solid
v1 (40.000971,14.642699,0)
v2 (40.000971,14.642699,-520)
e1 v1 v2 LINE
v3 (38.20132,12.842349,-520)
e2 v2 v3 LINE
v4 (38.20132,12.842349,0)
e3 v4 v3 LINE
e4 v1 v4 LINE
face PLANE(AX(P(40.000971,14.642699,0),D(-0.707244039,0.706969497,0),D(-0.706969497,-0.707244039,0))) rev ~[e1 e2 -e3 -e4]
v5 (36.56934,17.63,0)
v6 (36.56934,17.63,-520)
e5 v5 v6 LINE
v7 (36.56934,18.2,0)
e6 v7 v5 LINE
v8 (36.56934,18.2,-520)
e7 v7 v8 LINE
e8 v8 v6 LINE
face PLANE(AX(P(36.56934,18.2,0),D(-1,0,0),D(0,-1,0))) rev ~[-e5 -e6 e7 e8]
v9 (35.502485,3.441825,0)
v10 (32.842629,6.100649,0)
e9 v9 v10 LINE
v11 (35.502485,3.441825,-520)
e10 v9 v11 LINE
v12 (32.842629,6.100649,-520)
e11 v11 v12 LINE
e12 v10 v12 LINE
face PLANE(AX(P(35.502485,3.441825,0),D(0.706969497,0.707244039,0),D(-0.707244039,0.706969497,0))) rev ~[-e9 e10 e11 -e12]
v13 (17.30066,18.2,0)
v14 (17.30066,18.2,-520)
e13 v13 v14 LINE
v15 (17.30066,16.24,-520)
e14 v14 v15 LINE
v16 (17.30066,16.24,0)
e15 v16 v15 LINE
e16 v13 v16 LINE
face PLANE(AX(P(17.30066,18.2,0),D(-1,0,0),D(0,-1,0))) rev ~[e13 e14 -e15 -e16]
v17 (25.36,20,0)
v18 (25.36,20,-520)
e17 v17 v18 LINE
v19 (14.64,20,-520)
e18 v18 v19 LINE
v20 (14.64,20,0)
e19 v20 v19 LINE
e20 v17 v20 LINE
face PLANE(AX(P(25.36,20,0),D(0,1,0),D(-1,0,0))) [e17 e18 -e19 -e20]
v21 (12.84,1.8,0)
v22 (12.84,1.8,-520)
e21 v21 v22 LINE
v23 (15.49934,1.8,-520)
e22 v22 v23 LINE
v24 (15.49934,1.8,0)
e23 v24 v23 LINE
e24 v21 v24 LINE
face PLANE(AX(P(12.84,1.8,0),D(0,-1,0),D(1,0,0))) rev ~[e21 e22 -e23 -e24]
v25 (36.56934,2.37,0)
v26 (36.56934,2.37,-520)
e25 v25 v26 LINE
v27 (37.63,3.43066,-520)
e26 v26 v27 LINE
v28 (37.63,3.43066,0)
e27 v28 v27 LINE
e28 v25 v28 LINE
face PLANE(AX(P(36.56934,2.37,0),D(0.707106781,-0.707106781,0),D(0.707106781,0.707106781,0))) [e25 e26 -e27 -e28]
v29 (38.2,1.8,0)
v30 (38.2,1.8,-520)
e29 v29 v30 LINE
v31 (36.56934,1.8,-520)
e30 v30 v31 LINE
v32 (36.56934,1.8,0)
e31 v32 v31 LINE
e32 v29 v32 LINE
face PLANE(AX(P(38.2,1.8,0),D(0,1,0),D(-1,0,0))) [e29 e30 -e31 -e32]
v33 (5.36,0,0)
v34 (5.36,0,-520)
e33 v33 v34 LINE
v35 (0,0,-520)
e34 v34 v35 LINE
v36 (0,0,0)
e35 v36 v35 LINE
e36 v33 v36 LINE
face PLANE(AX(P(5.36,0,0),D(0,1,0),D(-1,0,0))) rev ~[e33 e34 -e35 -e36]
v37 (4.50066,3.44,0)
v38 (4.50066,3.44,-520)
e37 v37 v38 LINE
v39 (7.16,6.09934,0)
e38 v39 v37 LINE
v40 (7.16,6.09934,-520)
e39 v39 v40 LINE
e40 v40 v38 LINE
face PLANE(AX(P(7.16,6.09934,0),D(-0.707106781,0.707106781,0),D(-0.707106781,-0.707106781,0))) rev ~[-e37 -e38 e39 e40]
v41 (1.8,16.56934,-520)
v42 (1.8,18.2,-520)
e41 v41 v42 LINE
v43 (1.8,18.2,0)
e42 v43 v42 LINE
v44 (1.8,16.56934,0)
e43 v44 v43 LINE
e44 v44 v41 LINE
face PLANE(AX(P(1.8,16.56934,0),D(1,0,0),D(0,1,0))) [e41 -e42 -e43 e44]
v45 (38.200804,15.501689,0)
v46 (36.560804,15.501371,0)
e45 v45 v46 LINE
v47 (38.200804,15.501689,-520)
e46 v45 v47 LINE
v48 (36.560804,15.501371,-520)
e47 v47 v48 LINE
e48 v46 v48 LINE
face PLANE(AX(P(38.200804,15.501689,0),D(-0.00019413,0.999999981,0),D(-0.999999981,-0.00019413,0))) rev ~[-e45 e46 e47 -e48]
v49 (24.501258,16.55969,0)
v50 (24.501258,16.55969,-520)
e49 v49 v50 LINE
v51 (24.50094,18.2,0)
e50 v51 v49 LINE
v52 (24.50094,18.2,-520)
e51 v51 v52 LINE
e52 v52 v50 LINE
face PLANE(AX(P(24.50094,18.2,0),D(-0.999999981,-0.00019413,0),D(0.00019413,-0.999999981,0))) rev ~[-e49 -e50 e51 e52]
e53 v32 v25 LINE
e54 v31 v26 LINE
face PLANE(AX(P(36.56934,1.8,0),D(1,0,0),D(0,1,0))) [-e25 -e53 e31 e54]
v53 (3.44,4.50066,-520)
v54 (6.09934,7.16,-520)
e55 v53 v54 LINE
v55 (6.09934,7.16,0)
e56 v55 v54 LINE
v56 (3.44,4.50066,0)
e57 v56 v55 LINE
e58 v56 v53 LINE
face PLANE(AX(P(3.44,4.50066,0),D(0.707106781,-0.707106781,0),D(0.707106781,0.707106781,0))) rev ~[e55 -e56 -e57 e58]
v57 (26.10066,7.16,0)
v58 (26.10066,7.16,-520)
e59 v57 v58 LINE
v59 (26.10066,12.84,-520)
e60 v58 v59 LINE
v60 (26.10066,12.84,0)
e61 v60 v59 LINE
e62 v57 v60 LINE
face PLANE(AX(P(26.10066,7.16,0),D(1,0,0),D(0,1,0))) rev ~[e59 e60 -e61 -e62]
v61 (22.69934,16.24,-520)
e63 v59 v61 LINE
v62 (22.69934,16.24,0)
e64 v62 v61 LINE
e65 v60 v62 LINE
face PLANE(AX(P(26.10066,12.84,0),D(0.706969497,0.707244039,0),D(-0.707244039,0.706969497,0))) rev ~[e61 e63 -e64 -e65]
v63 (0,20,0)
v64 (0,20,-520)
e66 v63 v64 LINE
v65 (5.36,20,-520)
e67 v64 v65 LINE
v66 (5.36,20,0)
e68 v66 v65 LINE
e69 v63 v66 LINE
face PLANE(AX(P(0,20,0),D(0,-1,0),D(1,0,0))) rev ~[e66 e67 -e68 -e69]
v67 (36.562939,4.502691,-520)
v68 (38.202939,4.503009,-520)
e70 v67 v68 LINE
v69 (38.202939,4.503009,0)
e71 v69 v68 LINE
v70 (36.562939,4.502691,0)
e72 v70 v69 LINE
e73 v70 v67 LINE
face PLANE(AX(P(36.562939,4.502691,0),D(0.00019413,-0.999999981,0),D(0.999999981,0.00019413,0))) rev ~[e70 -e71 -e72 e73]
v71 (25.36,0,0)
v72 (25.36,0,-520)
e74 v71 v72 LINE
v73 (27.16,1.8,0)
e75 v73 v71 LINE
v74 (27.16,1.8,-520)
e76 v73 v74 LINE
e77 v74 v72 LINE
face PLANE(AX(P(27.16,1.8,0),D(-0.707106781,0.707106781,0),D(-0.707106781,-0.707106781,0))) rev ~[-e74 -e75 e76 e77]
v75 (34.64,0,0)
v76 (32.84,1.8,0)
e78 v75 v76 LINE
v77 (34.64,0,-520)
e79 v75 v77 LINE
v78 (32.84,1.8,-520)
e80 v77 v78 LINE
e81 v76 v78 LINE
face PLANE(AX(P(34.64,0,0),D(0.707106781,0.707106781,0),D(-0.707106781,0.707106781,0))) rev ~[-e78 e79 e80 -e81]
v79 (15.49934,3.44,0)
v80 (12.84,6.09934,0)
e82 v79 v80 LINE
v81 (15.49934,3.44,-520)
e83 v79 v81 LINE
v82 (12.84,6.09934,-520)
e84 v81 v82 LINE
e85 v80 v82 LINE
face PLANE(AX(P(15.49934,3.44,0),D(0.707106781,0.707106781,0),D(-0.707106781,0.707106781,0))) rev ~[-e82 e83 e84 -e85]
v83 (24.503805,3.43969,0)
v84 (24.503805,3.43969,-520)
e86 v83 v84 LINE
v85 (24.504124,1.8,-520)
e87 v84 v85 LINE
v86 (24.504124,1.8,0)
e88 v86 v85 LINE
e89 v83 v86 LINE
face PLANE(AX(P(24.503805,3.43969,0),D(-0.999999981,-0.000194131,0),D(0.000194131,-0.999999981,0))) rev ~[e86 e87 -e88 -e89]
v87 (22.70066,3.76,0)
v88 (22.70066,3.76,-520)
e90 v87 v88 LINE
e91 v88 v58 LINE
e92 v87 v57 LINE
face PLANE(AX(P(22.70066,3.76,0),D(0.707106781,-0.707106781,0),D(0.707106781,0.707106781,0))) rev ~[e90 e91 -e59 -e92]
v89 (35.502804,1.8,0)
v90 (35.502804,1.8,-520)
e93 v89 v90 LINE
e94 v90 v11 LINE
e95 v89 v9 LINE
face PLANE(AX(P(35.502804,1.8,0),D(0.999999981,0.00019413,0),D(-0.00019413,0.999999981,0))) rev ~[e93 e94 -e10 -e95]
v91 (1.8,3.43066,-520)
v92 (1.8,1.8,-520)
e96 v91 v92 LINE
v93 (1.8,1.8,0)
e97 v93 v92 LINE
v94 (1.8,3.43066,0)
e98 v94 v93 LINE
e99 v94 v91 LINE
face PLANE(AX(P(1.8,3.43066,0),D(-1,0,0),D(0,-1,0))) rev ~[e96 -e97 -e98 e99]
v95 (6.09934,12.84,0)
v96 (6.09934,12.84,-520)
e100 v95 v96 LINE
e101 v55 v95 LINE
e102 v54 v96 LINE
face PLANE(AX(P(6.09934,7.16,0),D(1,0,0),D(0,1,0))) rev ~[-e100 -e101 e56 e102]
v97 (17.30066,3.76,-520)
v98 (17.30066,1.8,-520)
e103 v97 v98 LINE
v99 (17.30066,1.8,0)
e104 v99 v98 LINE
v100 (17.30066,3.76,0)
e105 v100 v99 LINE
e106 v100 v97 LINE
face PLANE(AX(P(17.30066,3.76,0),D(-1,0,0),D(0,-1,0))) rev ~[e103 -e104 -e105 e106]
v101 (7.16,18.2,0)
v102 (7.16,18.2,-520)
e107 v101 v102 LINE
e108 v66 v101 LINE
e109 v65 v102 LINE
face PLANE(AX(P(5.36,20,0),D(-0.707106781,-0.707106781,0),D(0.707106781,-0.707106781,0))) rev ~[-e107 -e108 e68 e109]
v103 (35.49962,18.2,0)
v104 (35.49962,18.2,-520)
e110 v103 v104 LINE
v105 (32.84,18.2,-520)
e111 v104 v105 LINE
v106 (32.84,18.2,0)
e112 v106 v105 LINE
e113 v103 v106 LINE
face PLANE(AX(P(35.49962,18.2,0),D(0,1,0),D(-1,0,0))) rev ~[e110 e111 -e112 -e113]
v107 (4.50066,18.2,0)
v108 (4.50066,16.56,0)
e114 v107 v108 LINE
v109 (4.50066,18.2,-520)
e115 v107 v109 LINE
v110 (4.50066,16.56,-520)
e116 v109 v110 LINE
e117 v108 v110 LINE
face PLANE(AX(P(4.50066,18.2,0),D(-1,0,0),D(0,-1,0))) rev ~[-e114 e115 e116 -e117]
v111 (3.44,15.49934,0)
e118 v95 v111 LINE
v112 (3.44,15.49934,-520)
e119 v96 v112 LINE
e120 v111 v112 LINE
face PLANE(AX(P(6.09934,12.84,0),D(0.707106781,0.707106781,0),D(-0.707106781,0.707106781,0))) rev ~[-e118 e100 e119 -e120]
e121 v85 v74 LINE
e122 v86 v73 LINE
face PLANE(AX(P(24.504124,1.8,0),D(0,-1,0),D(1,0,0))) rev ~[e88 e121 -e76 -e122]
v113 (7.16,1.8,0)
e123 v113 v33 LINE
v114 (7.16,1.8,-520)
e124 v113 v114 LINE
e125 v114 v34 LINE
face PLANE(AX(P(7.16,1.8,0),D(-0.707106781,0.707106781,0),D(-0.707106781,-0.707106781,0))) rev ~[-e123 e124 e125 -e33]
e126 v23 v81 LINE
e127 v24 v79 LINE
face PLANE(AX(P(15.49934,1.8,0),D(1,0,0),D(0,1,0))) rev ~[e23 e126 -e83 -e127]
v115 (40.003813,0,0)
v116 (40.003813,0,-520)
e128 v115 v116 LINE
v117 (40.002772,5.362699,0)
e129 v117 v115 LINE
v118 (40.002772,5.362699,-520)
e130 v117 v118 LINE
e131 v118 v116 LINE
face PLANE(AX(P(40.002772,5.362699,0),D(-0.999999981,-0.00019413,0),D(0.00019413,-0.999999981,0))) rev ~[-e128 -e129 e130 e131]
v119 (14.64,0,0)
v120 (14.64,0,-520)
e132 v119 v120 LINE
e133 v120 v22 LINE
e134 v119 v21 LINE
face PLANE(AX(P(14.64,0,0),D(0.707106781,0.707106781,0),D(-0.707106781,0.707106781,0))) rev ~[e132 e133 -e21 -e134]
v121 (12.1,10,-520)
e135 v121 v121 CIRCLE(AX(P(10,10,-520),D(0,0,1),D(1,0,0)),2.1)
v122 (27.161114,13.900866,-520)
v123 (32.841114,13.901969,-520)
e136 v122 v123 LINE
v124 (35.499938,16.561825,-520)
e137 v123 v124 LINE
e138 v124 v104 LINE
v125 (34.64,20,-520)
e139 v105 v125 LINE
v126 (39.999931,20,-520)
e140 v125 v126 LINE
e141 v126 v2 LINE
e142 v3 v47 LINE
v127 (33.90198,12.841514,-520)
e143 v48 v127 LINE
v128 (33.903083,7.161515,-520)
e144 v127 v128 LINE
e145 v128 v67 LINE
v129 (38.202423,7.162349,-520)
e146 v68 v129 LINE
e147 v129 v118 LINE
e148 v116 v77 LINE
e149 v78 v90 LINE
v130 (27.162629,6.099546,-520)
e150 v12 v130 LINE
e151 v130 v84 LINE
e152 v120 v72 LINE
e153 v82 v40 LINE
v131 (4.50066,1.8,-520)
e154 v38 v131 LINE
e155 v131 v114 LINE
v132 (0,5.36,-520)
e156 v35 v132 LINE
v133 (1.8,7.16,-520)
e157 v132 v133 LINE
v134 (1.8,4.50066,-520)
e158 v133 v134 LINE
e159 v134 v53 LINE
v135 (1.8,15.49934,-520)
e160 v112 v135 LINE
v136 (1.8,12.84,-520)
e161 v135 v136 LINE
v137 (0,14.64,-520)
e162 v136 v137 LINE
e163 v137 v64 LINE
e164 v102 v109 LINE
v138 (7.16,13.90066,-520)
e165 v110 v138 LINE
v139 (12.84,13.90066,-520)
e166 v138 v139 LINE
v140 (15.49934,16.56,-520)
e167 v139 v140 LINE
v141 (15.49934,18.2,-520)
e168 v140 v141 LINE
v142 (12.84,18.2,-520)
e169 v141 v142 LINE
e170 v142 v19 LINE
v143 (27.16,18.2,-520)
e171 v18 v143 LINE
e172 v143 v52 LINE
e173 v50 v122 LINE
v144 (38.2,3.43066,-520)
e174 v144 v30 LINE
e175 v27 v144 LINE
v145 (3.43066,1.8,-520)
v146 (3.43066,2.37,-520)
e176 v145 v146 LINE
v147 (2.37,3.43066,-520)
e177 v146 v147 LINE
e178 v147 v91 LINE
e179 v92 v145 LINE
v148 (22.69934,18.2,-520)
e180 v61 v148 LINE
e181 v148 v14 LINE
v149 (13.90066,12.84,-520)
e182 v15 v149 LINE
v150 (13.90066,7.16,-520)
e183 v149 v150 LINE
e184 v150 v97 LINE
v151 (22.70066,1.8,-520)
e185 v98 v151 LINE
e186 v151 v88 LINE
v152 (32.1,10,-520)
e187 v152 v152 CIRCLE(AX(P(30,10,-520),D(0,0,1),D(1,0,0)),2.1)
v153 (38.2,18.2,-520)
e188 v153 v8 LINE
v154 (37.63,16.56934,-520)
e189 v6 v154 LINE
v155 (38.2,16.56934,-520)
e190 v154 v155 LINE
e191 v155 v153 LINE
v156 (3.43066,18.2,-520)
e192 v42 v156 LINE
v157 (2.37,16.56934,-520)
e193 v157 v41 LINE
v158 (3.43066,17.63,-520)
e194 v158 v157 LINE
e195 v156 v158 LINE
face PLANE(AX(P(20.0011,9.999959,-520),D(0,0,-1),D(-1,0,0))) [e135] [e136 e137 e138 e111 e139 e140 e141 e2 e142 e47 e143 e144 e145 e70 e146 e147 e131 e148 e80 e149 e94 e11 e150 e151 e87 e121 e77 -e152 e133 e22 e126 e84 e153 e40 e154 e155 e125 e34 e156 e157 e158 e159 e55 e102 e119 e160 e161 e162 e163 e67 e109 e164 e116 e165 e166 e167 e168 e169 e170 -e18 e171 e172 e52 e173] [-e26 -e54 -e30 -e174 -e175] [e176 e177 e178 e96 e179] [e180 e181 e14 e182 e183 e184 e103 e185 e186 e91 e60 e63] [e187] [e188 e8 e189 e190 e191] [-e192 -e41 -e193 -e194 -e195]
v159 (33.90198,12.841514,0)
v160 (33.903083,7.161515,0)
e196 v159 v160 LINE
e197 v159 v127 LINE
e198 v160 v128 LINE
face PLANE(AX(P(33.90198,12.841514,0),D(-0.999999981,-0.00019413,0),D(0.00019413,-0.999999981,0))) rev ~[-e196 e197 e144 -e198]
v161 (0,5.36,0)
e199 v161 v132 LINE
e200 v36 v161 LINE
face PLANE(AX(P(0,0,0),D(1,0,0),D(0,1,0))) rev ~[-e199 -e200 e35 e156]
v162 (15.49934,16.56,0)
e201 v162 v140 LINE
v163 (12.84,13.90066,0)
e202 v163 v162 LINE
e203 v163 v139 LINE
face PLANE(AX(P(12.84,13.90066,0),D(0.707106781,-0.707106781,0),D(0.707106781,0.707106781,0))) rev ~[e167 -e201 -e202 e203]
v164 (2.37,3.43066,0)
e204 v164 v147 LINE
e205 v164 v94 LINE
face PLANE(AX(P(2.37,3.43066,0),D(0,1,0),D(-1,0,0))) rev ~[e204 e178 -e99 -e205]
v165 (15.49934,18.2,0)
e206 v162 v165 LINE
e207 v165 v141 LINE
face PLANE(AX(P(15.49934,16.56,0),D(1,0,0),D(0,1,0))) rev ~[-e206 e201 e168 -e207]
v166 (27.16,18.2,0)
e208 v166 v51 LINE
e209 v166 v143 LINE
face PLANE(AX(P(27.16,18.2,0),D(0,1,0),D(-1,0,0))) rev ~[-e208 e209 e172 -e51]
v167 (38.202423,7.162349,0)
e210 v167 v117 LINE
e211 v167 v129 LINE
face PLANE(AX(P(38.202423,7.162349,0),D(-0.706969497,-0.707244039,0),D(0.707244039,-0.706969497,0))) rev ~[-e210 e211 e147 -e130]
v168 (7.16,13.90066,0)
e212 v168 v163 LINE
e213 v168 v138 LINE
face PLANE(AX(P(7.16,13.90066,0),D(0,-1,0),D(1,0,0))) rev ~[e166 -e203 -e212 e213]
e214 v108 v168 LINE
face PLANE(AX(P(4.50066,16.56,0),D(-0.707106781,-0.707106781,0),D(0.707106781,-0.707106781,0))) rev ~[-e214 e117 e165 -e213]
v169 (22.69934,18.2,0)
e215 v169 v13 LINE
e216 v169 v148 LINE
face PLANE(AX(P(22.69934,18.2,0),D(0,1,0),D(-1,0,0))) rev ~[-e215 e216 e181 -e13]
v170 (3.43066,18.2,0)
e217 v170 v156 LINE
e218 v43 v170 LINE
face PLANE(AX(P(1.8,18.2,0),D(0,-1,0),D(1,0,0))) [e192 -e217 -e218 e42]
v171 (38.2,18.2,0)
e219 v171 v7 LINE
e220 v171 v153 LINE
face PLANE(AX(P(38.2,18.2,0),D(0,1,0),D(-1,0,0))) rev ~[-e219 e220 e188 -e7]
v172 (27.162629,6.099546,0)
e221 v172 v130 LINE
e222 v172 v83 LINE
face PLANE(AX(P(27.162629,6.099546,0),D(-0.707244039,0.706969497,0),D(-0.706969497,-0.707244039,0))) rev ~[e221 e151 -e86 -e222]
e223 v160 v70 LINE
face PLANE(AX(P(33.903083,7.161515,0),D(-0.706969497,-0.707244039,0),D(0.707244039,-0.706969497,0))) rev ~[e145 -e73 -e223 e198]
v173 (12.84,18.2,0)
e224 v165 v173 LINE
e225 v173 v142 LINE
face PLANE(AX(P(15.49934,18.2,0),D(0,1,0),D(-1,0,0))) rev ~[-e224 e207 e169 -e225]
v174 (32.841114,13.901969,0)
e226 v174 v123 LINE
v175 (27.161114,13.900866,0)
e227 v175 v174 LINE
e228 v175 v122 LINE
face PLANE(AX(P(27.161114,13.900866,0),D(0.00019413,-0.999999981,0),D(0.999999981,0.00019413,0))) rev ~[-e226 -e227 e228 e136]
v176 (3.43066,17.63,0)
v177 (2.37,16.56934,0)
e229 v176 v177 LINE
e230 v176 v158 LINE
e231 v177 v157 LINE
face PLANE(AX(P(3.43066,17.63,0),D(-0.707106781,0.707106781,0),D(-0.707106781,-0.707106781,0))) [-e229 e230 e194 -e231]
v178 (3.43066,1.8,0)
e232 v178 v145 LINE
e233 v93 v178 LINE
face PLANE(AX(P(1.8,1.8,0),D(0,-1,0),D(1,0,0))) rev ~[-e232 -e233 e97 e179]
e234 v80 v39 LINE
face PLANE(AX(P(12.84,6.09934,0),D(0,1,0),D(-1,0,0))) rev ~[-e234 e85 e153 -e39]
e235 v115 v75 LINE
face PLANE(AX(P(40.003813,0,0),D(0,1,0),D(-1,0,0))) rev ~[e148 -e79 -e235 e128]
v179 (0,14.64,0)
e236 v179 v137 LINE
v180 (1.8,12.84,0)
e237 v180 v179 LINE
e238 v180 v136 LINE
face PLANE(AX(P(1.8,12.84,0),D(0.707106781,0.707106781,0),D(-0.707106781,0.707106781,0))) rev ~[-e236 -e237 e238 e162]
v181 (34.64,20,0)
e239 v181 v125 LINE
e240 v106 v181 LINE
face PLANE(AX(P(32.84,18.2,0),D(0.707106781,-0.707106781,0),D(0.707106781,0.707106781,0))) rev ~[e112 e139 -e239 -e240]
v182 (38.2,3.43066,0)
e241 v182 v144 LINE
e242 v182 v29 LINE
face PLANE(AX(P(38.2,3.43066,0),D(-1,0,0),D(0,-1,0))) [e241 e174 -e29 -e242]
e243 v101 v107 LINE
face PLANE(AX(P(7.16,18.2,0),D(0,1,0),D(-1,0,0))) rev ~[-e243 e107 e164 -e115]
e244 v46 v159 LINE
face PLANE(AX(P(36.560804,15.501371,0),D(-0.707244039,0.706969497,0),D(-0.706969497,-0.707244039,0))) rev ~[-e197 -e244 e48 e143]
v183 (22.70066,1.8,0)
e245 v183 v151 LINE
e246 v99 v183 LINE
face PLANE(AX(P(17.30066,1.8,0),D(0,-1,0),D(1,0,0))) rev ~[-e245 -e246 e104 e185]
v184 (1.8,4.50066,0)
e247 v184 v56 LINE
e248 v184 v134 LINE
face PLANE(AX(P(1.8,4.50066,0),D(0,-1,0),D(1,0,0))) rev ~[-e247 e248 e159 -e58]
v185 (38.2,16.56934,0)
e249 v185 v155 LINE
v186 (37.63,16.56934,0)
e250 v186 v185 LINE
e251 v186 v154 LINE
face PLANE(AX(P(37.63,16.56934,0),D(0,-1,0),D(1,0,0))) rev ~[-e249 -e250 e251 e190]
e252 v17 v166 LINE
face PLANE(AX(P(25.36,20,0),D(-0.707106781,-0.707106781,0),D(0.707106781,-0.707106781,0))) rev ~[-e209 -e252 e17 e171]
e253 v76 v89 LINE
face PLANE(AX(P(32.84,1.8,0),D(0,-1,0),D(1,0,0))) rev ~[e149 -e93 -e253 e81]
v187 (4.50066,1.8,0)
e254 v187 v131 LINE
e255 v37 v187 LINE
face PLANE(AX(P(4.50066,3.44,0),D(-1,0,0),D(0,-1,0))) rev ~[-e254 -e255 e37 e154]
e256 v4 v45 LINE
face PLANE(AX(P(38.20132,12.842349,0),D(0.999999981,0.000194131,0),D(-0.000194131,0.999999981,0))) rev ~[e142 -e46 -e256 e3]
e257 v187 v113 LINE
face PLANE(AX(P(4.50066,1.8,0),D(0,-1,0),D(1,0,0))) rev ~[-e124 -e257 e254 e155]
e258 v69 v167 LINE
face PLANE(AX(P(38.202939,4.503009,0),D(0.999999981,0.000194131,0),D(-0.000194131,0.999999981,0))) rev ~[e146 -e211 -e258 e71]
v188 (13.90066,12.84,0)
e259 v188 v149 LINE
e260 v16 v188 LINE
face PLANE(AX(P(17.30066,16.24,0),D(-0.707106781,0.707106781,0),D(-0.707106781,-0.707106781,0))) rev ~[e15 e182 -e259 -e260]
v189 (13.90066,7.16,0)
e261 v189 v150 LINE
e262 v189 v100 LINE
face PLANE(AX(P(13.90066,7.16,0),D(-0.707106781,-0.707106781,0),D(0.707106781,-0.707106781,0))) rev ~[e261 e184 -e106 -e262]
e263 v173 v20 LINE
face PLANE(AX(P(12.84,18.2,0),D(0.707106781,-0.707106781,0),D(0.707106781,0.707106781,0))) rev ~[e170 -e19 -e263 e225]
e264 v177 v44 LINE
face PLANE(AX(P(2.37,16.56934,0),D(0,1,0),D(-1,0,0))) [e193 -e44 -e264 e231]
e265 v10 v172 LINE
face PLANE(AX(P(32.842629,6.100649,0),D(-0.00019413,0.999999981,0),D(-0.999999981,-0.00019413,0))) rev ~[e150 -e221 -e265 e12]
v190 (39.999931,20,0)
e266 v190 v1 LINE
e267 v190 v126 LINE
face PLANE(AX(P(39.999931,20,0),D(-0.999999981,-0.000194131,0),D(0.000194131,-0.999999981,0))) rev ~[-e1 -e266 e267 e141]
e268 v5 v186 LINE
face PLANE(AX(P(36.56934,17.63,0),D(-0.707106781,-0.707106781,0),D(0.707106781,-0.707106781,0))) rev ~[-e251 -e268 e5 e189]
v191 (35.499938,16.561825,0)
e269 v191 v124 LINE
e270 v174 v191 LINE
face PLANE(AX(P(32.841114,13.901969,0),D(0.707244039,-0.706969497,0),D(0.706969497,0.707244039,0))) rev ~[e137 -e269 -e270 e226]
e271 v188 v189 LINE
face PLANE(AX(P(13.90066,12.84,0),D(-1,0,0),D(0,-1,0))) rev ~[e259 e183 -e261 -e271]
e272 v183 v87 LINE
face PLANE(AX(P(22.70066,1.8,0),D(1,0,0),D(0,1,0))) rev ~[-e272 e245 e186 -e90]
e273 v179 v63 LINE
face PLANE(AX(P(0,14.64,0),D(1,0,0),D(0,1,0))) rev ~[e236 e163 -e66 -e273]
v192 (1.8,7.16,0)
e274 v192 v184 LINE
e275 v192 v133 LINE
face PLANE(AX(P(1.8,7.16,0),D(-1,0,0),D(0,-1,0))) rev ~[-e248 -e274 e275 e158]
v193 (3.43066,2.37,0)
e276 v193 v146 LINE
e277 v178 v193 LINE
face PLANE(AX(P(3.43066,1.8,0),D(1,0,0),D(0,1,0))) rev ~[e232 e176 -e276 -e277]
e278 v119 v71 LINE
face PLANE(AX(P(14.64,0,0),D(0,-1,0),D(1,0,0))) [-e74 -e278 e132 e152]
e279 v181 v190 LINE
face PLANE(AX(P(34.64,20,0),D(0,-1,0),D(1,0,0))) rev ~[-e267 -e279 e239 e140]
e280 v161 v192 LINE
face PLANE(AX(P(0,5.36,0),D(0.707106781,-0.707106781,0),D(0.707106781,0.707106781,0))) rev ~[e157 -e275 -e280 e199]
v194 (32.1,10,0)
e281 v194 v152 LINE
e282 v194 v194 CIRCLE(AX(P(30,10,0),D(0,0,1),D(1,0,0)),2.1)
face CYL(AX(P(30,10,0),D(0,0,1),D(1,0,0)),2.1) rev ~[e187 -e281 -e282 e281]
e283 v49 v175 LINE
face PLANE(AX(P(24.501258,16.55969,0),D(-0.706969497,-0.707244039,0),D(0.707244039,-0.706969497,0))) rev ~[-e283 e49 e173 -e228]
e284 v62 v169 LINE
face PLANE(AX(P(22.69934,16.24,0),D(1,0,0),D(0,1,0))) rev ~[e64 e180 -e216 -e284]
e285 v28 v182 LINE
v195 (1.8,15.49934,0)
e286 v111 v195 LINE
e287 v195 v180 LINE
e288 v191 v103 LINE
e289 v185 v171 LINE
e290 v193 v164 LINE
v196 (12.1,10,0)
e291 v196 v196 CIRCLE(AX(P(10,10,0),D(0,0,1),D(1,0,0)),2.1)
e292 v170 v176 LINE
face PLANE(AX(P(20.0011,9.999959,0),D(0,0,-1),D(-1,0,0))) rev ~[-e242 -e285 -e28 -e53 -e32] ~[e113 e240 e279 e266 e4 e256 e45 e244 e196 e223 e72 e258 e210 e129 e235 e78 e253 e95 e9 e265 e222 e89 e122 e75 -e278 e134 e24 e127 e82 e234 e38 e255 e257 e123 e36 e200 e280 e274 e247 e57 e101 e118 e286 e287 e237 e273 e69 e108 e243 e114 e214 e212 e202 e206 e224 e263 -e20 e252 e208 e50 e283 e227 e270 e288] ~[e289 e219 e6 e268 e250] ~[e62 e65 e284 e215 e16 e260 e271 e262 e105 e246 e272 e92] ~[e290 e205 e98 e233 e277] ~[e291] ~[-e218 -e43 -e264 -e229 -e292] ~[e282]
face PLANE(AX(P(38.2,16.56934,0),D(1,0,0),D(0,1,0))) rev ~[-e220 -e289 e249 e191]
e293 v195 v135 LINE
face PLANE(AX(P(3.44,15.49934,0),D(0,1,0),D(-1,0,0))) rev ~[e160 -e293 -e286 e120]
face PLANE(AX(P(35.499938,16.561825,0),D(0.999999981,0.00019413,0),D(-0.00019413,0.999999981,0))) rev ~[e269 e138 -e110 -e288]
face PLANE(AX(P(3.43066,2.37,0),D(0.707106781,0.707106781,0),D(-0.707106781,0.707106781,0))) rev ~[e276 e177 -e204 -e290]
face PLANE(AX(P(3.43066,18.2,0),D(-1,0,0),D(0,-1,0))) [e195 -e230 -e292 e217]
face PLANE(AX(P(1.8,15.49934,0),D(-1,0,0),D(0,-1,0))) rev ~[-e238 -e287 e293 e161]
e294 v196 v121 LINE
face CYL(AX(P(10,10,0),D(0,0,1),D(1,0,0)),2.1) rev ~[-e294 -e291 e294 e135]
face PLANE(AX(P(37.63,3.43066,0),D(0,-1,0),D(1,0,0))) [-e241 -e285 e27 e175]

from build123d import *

# Parameters (mm, degrees)
SKETCH1_R           = 2.1
BOSS_EXTRUDE1_DEPTH = 520


with BuildPart() as part:
    # Sketch1 → Boss-Extrude1 (new body)
    with BuildSketch(Plane.XY):
        Polygon((0, 0), (0, 5.36), (1.8, 7.16), (1.8, 4.500660172), (3.44, 4.500660172), (6.099339828, 7.16), (6.099339828, 12.84), (3.44, 15.499339828), (1.8, 15.499339828), (1.8, 12.84), (0, 14.64), (0, 20), (5.36, 20), (7.16, 18.2), (4.500660172, 18.2), (4.500660172, 16.56), (7.16, 13.900660172), (12.84, 13.900660172), (15.499339828, 16.56), (15.499339828, 18.2), (12.84, 18.2), (14.64, 20), (20, 20), (25.36, 20), (27.16, 18.2), (24.500939946, 18.2), (24.50125838, 16.559689577), (27.161114417, 13.900866058), (32.84111431, 13.901968719), (35.499937829, 16.561824756), (35.49961981, 18.2), (32.84, 18.2), (34.64, 20), (39.999930631, 20), (40.000970647, 14.642698508), (38.201320116, 12.842349107), (38.200803857, 15.501688885), (36.560803888, 15.501370511), (33.901980368, 12.841514474), (33.903083029, 7.161514581), (36.562939066, 4.502691062), (38.202939036, 4.503009436), (38.202422777, 7.162349214), (40.002772178, 5.362698683), (40.003813241, 0), (34.64, 0), (32.84, 1.8), (35.502803549, 1.8), (35.502484821, 3.441825004), (32.842628784, 6.100648523), (27.162628891, 6.099545862), (24.503805372, 3.439689825), (24.504123686, 1.8), (27.16, 1.8), (25.36, 0), (20, 0), (14.64, 0), (12.84, 1.8), (15.499339828, 1.8), (15.499339828, 3.44), (12.84, 6.099339828), (7.16, 6.099339828), (4.500660172, 3.44), (4.500660172, 1.8), (7.16, 1.8), (5.36, 0), align=None)
        with Locations((10, 10)):
            Circle(SKETCH1_R, mode=Mode.SUBTRACT)
        with Locations((30, 10)):
            Circle(SKETCH1_R, mode=Mode.SUBTRACT)
        Polygon((17.300660172, 3.76), (17.300660172, 1.8), (22.700660172, 1.8), (22.700660172, 3.76), (26.100660172, 7.16), (26.100660172, 12.84), (22.699339828, 16.24), (22.699339828, 18.2), (17.300660172, 18.2), (17.300660172, 16.24), (13.900660172, 12.84), (13.900660172, 7.16), align=None, mode=Mode.SUBTRACT)
        Polygon((1.8, 18.2), (3.430660172, 18.2), (3.430660172, 17.63), (2.37, 16.569339828), (1.8, 16.569339828), align=None, mode=Mode.SUBTRACT)
        Polygon((1.8, 3.430660172), (1.8, 1.8), (3.430660172, 1.8), (3.430660172, 2.37), (2.37, 3.430660172), align=None, mode=Mode.SUBTRACT)
        Polygon((38.2, 1.8), (36.569339828, 1.8), (36.569339828, 2.37), (37.63, 3.430660172), (38.2, 3.430660172), align=None, mode=Mode.SUBTRACT)
        Polygon((38.2, 16.569339828), (38.2, 18.2), (36.569339828, 18.2), (36.569339828, 17.63), (37.63, 16.569339828), align=None, mode=Mode.SUBTRACT)
    extrude(amount=-BOSS_EXTRUDE1_DEPTH)


solid = part.part
